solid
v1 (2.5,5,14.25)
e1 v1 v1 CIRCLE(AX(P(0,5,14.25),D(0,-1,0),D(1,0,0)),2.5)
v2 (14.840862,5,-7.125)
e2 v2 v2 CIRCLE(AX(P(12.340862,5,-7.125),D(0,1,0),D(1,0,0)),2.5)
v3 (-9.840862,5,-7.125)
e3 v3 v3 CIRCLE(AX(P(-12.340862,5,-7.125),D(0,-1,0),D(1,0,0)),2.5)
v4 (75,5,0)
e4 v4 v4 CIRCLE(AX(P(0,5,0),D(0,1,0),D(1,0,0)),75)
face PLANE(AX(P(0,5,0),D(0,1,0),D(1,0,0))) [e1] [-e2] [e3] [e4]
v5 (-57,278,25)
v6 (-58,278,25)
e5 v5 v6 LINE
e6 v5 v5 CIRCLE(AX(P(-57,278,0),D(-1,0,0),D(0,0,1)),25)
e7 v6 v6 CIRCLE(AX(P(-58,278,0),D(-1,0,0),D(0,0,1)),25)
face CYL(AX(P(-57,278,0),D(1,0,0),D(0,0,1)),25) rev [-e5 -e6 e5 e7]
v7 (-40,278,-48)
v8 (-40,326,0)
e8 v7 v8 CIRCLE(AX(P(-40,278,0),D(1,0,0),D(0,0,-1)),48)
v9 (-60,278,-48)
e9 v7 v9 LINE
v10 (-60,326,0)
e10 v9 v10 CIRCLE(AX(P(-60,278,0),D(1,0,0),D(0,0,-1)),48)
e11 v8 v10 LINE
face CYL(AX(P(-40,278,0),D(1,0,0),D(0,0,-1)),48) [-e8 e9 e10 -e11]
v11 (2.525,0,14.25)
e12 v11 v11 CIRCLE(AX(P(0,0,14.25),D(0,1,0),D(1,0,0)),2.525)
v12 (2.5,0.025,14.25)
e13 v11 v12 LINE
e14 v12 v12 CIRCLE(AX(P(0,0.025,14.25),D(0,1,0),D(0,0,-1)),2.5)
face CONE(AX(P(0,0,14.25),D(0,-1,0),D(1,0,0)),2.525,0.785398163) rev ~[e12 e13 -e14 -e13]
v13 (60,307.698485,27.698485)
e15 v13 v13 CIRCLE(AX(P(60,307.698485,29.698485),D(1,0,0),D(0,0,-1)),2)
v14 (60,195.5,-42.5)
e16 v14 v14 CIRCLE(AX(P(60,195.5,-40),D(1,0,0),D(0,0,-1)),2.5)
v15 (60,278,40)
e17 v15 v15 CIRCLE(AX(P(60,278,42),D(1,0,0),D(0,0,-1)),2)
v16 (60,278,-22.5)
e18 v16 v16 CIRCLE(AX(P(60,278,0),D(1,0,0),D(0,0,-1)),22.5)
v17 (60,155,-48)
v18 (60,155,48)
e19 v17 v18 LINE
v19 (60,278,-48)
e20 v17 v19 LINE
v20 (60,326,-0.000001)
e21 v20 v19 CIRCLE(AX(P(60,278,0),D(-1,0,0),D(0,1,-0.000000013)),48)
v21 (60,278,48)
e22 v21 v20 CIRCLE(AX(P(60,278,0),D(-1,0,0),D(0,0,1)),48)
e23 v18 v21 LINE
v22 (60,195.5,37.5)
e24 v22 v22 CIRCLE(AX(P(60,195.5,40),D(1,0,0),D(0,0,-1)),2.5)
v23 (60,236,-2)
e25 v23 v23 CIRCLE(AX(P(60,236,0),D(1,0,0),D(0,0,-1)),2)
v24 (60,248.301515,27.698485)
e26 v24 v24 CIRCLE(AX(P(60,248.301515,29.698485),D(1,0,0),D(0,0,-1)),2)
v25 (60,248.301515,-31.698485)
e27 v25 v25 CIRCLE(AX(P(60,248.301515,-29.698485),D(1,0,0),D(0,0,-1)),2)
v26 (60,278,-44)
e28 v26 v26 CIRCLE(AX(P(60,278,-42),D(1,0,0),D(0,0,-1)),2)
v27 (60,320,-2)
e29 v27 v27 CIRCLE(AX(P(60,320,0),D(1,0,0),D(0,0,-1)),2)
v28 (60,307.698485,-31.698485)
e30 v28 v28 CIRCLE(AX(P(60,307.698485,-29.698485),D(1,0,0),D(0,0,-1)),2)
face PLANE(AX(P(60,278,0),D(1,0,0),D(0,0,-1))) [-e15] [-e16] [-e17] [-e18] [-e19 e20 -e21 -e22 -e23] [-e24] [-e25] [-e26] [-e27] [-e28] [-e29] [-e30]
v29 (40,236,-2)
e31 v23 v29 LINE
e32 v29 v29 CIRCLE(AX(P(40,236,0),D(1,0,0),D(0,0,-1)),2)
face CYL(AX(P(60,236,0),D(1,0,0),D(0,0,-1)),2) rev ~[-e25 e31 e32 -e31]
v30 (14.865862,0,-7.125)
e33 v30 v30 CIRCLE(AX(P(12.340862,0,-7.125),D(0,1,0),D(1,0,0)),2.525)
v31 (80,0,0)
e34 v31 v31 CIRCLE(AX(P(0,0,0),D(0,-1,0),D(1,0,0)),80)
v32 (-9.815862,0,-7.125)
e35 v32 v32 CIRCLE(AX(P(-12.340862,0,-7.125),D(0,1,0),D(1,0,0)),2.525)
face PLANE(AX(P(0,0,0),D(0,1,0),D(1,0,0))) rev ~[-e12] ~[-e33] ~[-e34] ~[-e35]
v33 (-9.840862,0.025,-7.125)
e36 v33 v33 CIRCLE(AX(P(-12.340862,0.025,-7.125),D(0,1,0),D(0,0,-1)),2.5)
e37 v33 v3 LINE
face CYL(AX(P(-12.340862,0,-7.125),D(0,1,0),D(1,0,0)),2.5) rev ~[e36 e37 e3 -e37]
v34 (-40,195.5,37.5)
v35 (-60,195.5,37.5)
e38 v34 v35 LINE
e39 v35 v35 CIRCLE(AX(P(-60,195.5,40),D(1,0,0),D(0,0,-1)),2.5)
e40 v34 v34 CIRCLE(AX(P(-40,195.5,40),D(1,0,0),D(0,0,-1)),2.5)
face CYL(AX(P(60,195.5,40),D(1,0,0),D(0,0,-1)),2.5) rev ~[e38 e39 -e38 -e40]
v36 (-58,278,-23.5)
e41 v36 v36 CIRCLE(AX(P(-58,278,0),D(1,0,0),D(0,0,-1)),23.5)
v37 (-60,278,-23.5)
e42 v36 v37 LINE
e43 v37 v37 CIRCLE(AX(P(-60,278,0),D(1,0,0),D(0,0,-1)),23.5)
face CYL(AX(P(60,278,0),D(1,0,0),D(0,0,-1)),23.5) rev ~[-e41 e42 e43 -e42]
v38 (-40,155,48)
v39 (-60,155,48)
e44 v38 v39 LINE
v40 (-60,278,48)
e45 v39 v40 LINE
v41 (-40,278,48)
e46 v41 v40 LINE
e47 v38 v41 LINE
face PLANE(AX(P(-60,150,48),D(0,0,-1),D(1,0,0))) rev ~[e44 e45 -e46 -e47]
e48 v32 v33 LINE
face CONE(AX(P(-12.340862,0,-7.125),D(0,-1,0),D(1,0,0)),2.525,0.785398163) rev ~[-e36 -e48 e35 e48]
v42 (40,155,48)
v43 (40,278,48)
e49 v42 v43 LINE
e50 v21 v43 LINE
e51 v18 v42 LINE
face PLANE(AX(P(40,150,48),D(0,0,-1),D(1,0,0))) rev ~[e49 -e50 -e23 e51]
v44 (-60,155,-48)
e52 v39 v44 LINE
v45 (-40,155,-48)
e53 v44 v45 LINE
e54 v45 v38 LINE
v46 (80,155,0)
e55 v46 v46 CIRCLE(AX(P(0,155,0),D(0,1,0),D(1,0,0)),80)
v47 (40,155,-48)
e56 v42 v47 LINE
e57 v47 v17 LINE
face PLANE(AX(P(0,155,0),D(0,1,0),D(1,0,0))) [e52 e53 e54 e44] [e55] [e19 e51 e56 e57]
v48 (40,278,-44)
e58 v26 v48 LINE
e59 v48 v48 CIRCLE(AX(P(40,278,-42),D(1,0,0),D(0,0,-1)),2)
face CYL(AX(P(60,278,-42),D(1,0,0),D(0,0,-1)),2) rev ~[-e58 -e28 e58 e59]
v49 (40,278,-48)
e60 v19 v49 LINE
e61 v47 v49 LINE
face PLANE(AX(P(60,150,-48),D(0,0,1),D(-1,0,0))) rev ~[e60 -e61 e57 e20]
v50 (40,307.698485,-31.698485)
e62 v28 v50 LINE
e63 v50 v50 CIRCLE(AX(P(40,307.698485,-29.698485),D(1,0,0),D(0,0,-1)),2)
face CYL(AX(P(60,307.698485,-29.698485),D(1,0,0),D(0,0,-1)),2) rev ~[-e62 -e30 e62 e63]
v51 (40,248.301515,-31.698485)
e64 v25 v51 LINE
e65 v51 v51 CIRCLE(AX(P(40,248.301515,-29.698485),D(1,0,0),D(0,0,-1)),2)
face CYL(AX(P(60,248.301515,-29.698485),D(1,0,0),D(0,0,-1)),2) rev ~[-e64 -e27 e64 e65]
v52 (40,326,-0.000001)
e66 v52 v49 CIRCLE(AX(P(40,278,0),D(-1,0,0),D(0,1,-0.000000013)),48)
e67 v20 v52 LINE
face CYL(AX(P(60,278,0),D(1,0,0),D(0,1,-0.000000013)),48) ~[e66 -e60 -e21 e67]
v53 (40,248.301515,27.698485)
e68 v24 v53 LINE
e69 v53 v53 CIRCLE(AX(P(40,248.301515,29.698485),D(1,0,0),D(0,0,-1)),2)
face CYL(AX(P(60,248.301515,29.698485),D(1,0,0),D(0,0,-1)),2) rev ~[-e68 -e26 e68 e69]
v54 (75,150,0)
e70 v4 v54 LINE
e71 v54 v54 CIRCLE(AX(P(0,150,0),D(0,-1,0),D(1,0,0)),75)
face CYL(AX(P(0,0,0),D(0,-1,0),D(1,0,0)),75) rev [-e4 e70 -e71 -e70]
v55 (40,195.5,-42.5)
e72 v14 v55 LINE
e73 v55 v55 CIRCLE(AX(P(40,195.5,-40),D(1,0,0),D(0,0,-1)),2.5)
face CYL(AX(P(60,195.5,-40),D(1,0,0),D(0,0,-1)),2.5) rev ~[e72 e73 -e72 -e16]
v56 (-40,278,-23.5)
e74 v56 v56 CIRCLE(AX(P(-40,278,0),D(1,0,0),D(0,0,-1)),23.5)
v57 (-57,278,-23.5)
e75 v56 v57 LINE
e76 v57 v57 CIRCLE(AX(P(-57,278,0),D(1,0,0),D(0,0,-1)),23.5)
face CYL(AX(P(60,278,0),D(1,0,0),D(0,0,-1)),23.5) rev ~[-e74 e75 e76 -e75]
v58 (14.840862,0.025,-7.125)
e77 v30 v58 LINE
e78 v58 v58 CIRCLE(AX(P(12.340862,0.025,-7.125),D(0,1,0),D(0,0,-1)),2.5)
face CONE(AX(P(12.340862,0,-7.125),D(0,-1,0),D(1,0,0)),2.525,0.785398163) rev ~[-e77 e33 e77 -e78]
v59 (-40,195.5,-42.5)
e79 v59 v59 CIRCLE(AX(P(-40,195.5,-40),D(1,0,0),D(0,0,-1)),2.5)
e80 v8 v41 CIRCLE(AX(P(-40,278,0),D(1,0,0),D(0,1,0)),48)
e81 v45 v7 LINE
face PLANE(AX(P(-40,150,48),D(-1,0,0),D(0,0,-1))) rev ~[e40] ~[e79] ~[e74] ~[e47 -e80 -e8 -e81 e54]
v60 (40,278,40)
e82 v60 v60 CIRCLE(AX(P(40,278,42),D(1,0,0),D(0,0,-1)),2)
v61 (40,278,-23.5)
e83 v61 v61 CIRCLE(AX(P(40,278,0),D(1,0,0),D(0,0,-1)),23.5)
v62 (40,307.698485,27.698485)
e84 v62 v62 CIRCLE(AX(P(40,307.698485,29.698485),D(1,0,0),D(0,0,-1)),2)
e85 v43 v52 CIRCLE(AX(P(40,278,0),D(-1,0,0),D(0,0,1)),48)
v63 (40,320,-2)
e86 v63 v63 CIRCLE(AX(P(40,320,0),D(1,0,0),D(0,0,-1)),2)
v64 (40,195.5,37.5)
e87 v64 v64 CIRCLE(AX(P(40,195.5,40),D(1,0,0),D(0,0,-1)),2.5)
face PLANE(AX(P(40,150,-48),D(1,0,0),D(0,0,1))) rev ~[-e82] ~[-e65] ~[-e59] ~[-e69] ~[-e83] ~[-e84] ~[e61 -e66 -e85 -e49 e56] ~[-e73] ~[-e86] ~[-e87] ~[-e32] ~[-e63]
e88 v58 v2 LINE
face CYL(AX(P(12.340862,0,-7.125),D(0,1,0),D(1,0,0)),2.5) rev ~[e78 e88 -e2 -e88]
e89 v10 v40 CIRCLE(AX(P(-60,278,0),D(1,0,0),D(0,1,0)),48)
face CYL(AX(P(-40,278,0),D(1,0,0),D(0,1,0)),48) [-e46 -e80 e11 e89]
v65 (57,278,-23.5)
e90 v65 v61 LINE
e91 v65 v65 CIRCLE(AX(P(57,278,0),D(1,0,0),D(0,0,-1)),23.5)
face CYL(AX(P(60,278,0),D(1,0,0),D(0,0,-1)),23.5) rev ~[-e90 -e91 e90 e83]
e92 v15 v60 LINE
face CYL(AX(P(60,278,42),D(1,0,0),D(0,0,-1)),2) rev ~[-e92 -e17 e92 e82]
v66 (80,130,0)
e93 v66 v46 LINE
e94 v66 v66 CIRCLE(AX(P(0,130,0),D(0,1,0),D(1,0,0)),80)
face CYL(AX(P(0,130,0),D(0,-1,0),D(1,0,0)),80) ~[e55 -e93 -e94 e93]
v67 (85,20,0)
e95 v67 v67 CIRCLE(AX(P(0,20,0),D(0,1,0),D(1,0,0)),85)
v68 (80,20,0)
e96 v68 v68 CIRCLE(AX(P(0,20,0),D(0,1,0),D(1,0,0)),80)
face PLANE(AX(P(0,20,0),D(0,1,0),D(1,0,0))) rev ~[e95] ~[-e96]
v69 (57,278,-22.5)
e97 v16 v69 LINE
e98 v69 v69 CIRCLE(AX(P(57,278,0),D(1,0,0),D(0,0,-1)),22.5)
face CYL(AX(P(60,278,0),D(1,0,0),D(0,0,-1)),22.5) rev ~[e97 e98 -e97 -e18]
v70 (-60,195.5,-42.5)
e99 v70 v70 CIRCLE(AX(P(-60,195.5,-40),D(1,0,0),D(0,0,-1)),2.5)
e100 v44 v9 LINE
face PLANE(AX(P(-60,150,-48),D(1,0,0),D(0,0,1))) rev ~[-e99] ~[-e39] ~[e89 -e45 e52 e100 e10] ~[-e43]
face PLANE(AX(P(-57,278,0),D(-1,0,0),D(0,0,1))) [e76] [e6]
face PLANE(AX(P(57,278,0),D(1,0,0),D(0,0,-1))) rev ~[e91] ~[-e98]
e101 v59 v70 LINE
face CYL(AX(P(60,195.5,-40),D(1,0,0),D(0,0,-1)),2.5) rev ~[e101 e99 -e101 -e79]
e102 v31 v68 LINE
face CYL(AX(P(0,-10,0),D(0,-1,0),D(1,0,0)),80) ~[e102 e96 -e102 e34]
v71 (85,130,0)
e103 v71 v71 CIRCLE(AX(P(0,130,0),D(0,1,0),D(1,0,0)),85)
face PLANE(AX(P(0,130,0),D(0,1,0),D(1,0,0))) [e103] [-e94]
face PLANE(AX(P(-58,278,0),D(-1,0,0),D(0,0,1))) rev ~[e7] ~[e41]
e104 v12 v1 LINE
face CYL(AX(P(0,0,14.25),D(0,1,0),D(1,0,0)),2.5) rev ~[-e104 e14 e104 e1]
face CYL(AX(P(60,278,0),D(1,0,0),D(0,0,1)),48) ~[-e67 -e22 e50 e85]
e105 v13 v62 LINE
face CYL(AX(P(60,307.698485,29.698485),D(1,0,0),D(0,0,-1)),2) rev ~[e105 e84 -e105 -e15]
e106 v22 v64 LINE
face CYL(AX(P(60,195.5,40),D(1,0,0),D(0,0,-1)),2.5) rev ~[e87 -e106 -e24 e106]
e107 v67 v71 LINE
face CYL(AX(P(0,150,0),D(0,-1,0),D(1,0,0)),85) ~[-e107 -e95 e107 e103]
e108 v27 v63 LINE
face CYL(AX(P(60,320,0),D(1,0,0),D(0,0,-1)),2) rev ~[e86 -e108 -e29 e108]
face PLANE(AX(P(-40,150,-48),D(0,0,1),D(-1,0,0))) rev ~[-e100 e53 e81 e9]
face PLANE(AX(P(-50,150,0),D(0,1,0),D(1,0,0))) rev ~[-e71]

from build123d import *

# Parameters (mm, degrees)
SKETCH1_R                       = 85
SKETCH1_R_2                     = 75
BOSS_EXTRUDE1_DEPTH             = 150
SKETCH1_4_R                     = 80
SKETCH1_4_R_2                   = 75
CUT_EXTRUDE1_DEPTH              = 155
SKETCH2_R                       = 85
BOSS_EXTRUDE3_DEPTH             = 5
BOSS_EXTRUDE4_DEPTH             = 176
BOSS_EXTRUDE5_DEPTH             = 176
SKETCH3_R                       = 23.5
CUT_EXTRUDE3_DEPTH              = 90
SKETCH3_3_R                     = 23.5
CUT_EXTRUDE4_DEPTH              = 120
CUT_EXTRUDE5_DEPTH              = 20
CUT_EXTRUDE6_START              = -20
CUT_EXTRUDE6_DEPTH              = 20
SKETCH6_R                       = 2
CUT_EXTRUDE7_DEPTH              = 20
SKETCH11_R                      = 2.5
CUT_EXTRUDE10_DEPTH             = 131
SKETCH1_7_R                     = 80
SKETCH1_7_R_2                   = 75
BOSS_EXTRUDE6_DEPTH             = 155
CUT_EXTRUDE12_DEPTH             = 20
CUT_EXTRUDE12_DEPTH_BACK        = 10
SKETCH1_10_R                    = 85
SKETCH1_10_R_2                  = 80
CUT_EXTRUDE13_START             = -25
SKETCH12_R                      = 85
SKETCH12_R_2                    = 80
CUT_EXTRUDE13_DEPTH             = 25
SKETCH1_11_R                    = 75
BOSS_EXTRUDE7_DEPTH             = 5
F_5_0MM_DOWEL_HOLE1_D           = 5
F_5_0MM_DOWEL_HOLE1_DEPTH       = 5
F_5_0MM_DOWEL_HOLE1_CSINK_D     = 5.05
F_5_0MM_DOWEL_HOLE1_CSINK_ANGLE = 90
F_5_0MM_DOWEL_HOLE1_TIP         = 1.502151548
SKETCH3_4_R                     = 23.5
SKETCH3_4_R_2                   = 22.5
BOSS_EXTRUDE8_DEPTH             = 3
SKETCH16_R                      = 25
CUT_EXTRUDE14_DEPTH             = 1


with BuildPart() as part:
    # Sketch1 → Boss-Extrude1 (new body)
    with BuildSketch(Plane(origin=(0, 0, 0), x_dir=(1, 0, 0), z_dir=(0, 1, 0))):
        Circle(SKETCH1_R)
        Circle(SKETCH1_R_2, mode=Mode.SUBTRACT)
    extrude(amount=BOSS_EXTRUDE1_DEPTH)

    # Sketch1<4> → Cut-Extrude1 (cut)
    with BuildSketch(Plane(origin=(0, 0, 0), x_dir=(1, 0, 0), z_dir=(0, 1, 0))):
        Circle(SKETCH1_4_R)
        Circle(SKETCH1_4_R_2, mode=Mode.SUBTRACT)
    extrude(amount=CUT_EXTRUDE1_DEPTH, mode=Mode.SUBTRACT)

    # Sketch2 → Boss-Extrude3 (add)
    with BuildSketch(Plane(origin=(0, 150, 0), x_dir=(1, 0, 0), z_dir=(0, 1, 0))):
        Circle(SKETCH2_R)
    extrude(amount=BOSS_EXTRUDE3_DEPTH)

    # Sketch2<3> → Boss-Extrude4 (add)
    with BuildSketch(Plane(origin=(0, 150, 0), x_dir=(1, 0, 0), z_dir=(0, 1, 0))):
        Polygon((60, 48), (40, 48), (40, 0), (40, -48), (60, -48), align=None)
    extrude(amount=BOSS_EXTRUDE4_DEPTH)

    # Sketch2<4> → Boss-Extrude5 (add)
    with BuildSketch(Plane(origin=(0, 150, 0), x_dir=(1, 0, 0), z_dir=(0, 1, 0))):
        Polygon((-40, -48), (-40, 0), (-40, 48), (-60, 48), (-60, -48), align=None)
    extrude(amount=BOSS_EXTRUDE5_DEPTH)

    # Sketch3 → Cut-Extrude3 (cut)
    with BuildSketch(Plane(origin=(60, 0, 0), x_dir=(0, 0, -1), z_dir=(1, 0, 0))):
        with Locations((0, 278)):
            Circle(SKETCH3_R)
    extrude(amount=-CUT_EXTRUDE3_DEPTH, mode=Mode.SUBTRACT)

    # Sketch3<3> → Cut-Extrude4 (cut)
    with BuildSketch(Plane(origin=(60, 0, 0), x_dir=(0, 0, -1), z_dir=(1, 0, 0))):
        with Locations((0, 278)):
            Circle(SKETCH3_3_R)
    extrude(amount=-CUT_EXTRUDE4_DEPTH, mode=Mode.SUBTRACT)

    # Sketch4 → Cut-Extrude5 (cut)
    with BuildSketch(Plane(origin=(60, 0, 0), x_dir=(0, 0, -1), z_dir=(1, 0, 0))):
        with BuildLine():
            Line((-48, 326), (-48, 278))
            ThreePointArc((-48, 278), (-33.941125268, 311.941125726), (6.48e-07, 326))
            Line((6.48e-07, 326), (-48, 326))
        make_face()
        with BuildLine():
            ThreePointArc((6.48e-07, 326), (33.941125726, 311.941125268), (48, 278))
            Line((48, 278), (48, 326))
            Line((48, 326), (6.48e-07, 326))
        make_face()
    extrude(amount=-CUT_EXTRUDE5_DEPTH, mode=Mode.SUBTRACT)

    # Sketch5 → Cut-Extrude6 (cut)
    with BuildSketch(Plane.ZY.offset(60).offset(CUT_EXTRUDE6_START)):
        with BuildLine():
            Line((-48, 326), (-48, 278))
            ThreePointArc((-48, 278), (-33.941125497, 311.941125497), (0, 326))
            Line((0, 326), (-48, 326))
        make_face()
        with BuildLine():
            ThreePointArc((0, 326), (33.941125497, 311.941125497), (48, 278))
            Line((48, 278), (48, 326))
            Line((48, 326), (0, 326))
        make_face()
    extrude(amount=CUT_EXTRUDE6_DEPTH, mode=Mode.SUBTRACT)

    # Sketch6 → Cut-Extrude7 (cut)
    with BuildSketch(Plane(origin=(60, 0, 0), x_dir=(0, 0, -1), z_dir=(1, 0, 0))):
        with Locations((0, 320)):
            Circle(SKETCH6_R)
        with Locations((29.69848481, 307.69848481)):
            Circle(SKETCH6_R)
        with Locations((42, 278)):
            Circle(SKETCH6_R)
        with Locations((29.69848481, 248.30151519)):
            Circle(SKETCH6_R)
        with Locations((0, 236)):
            Circle(SKETCH6_R)
        with Locations((-29.69848481, 248.30151519)):
            Circle(SKETCH6_R)
        with Locations((-42, 278)):
            Circle(SKETCH6_R)
        with Locations((-29.69848481, 307.69848481)):
            Circle(SKETCH6_R)
    extrude(amount=-CUT_EXTRUDE7_DEPTH, mode=Mode.SUBTRACT)

    # Sketch11 → Cut-Extrude10 (cut)
    with BuildSketch(Plane(origin=(60, 0, 0), x_dir=(0, 0, -1), z_dir=(1, 0, 0))):
        with Locations((-40, 195.5)):
            Circle(SKETCH11_R)
        with Locations((40, 195.5)):
            Circle(SKETCH11_R)
    extrude(amount=-CUT_EXTRUDE10_DEPTH, mode=Mode.SUBTRACT)

    # Sketch1<7> → Boss-Extrude6 (add)
    with BuildSketch(Plane(origin=(0, 0, 0), x_dir=(1, 0, 0), z_dir=(0, 1, 0))):
        Circle(SKETCH1_7_R)
        Circle(SKETCH1_7_R_2, mode=Mode.SUBTRACT)
    extrude(amount=BOSS_EXTRUDE6_DEPTH)

    # Sketch1<10> → Cut-Extrude12 (cut, two sides: drawn at the far end of the back side and taken through both)
    with BuildSketch(Plane(origin=(0, 0, 0), x_dir=(1, 0, 0), z_dir=(0, 1, 0)).offset(-CUT_EXTRUDE12_DEPTH_BACK)):
        Circle(SKETCH1_10_R)
        Circle(SKETCH1_10_R_2, mode=Mode.SUBTRACT)
    extrude(amount=CUT_EXTRUDE12_DEPTH + CUT_EXTRUDE12_DEPTH_BACK, mode=Mode.SUBTRACT)

    # Sketch12 → Cut-Extrude13 (cut)
    with BuildSketch(Plane(origin=(0, 155, 0), x_dir=(1, 0, 0), z_dir=(0, 1, 0)).offset(CUT_EXTRUDE13_START)):
        Circle(SKETCH12_R)
        Circle(SKETCH12_R_2, mode=Mode.SUBTRACT)
    extrude(amount=CUT_EXTRUDE13_DEPTH, mode=Mode.SUBTRACT)

    # Sketch1<11> → Boss-Extrude7 (add)
    with BuildSketch(Plane(origin=(0, 0, 0), x_dir=(1, 0, 0), z_dir=(0, 1, 0))):
        Circle(SKETCH1_11_R)
    extrude(amount=BOSS_EXTRUDE7_DEPTH)

    # Ø5.0mm Dowel Hole1
    with Locations(Plane(origin=(0, 0, 0), x_dir=(-1, 0, 0), z_dir=(0, -1, 0))):
        with Locations((12.340862004, 7.125), (-12.340862004, 7.125), (0, -14.25)):
            CounterSinkHole(F_5_0MM_DOWEL_HOLE1_D / 2, F_5_0MM_DOWEL_HOLE1_CSINK_D / 2, depth=F_5_0MM_DOWEL_HOLE1_DEPTH, counter_sink_angle=F_5_0MM_DOWEL_HOLE1_CSINK_ANGLE)
            with Locations((0, 0, -(F_5_0MM_DOWEL_HOLE1_DEPTH + F_5_0MM_DOWEL_HOLE1_TIP / 2))):  # 118° drill point
                Cone(0, F_5_0MM_DOWEL_HOLE1_D / 2, F_5_0MM_DOWEL_HOLE1_TIP, mode=Mode.SUBTRACT)

    # Sketch3<4> → Boss-Extrude8 (add)
    with BuildSketch(Plane(origin=(60, 0, 0), x_dir=(0, 0, -1), z_dir=(1, 0, 0))):
        with Locations((0, 278)):
            Circle(SKETCH3_4_R)
        with Locations((0, 278)):
            Circle(SKETCH3_4_R_2, mode=Mode.SUBTRACT)
    extrude(amount=-BOSS_EXTRUDE8_DEPTH)

    # Sketch16 → Cut-Extrude14 (cut)
    with BuildSketch(Plane.ZY.offset(57)):
        with Locations((0, 278)):
            Circle(SKETCH16_R)
    extrude(amount=CUT_EXTRUDE14_DEPTH, mode=Mode.SUBTRACT)


solid = part.part
